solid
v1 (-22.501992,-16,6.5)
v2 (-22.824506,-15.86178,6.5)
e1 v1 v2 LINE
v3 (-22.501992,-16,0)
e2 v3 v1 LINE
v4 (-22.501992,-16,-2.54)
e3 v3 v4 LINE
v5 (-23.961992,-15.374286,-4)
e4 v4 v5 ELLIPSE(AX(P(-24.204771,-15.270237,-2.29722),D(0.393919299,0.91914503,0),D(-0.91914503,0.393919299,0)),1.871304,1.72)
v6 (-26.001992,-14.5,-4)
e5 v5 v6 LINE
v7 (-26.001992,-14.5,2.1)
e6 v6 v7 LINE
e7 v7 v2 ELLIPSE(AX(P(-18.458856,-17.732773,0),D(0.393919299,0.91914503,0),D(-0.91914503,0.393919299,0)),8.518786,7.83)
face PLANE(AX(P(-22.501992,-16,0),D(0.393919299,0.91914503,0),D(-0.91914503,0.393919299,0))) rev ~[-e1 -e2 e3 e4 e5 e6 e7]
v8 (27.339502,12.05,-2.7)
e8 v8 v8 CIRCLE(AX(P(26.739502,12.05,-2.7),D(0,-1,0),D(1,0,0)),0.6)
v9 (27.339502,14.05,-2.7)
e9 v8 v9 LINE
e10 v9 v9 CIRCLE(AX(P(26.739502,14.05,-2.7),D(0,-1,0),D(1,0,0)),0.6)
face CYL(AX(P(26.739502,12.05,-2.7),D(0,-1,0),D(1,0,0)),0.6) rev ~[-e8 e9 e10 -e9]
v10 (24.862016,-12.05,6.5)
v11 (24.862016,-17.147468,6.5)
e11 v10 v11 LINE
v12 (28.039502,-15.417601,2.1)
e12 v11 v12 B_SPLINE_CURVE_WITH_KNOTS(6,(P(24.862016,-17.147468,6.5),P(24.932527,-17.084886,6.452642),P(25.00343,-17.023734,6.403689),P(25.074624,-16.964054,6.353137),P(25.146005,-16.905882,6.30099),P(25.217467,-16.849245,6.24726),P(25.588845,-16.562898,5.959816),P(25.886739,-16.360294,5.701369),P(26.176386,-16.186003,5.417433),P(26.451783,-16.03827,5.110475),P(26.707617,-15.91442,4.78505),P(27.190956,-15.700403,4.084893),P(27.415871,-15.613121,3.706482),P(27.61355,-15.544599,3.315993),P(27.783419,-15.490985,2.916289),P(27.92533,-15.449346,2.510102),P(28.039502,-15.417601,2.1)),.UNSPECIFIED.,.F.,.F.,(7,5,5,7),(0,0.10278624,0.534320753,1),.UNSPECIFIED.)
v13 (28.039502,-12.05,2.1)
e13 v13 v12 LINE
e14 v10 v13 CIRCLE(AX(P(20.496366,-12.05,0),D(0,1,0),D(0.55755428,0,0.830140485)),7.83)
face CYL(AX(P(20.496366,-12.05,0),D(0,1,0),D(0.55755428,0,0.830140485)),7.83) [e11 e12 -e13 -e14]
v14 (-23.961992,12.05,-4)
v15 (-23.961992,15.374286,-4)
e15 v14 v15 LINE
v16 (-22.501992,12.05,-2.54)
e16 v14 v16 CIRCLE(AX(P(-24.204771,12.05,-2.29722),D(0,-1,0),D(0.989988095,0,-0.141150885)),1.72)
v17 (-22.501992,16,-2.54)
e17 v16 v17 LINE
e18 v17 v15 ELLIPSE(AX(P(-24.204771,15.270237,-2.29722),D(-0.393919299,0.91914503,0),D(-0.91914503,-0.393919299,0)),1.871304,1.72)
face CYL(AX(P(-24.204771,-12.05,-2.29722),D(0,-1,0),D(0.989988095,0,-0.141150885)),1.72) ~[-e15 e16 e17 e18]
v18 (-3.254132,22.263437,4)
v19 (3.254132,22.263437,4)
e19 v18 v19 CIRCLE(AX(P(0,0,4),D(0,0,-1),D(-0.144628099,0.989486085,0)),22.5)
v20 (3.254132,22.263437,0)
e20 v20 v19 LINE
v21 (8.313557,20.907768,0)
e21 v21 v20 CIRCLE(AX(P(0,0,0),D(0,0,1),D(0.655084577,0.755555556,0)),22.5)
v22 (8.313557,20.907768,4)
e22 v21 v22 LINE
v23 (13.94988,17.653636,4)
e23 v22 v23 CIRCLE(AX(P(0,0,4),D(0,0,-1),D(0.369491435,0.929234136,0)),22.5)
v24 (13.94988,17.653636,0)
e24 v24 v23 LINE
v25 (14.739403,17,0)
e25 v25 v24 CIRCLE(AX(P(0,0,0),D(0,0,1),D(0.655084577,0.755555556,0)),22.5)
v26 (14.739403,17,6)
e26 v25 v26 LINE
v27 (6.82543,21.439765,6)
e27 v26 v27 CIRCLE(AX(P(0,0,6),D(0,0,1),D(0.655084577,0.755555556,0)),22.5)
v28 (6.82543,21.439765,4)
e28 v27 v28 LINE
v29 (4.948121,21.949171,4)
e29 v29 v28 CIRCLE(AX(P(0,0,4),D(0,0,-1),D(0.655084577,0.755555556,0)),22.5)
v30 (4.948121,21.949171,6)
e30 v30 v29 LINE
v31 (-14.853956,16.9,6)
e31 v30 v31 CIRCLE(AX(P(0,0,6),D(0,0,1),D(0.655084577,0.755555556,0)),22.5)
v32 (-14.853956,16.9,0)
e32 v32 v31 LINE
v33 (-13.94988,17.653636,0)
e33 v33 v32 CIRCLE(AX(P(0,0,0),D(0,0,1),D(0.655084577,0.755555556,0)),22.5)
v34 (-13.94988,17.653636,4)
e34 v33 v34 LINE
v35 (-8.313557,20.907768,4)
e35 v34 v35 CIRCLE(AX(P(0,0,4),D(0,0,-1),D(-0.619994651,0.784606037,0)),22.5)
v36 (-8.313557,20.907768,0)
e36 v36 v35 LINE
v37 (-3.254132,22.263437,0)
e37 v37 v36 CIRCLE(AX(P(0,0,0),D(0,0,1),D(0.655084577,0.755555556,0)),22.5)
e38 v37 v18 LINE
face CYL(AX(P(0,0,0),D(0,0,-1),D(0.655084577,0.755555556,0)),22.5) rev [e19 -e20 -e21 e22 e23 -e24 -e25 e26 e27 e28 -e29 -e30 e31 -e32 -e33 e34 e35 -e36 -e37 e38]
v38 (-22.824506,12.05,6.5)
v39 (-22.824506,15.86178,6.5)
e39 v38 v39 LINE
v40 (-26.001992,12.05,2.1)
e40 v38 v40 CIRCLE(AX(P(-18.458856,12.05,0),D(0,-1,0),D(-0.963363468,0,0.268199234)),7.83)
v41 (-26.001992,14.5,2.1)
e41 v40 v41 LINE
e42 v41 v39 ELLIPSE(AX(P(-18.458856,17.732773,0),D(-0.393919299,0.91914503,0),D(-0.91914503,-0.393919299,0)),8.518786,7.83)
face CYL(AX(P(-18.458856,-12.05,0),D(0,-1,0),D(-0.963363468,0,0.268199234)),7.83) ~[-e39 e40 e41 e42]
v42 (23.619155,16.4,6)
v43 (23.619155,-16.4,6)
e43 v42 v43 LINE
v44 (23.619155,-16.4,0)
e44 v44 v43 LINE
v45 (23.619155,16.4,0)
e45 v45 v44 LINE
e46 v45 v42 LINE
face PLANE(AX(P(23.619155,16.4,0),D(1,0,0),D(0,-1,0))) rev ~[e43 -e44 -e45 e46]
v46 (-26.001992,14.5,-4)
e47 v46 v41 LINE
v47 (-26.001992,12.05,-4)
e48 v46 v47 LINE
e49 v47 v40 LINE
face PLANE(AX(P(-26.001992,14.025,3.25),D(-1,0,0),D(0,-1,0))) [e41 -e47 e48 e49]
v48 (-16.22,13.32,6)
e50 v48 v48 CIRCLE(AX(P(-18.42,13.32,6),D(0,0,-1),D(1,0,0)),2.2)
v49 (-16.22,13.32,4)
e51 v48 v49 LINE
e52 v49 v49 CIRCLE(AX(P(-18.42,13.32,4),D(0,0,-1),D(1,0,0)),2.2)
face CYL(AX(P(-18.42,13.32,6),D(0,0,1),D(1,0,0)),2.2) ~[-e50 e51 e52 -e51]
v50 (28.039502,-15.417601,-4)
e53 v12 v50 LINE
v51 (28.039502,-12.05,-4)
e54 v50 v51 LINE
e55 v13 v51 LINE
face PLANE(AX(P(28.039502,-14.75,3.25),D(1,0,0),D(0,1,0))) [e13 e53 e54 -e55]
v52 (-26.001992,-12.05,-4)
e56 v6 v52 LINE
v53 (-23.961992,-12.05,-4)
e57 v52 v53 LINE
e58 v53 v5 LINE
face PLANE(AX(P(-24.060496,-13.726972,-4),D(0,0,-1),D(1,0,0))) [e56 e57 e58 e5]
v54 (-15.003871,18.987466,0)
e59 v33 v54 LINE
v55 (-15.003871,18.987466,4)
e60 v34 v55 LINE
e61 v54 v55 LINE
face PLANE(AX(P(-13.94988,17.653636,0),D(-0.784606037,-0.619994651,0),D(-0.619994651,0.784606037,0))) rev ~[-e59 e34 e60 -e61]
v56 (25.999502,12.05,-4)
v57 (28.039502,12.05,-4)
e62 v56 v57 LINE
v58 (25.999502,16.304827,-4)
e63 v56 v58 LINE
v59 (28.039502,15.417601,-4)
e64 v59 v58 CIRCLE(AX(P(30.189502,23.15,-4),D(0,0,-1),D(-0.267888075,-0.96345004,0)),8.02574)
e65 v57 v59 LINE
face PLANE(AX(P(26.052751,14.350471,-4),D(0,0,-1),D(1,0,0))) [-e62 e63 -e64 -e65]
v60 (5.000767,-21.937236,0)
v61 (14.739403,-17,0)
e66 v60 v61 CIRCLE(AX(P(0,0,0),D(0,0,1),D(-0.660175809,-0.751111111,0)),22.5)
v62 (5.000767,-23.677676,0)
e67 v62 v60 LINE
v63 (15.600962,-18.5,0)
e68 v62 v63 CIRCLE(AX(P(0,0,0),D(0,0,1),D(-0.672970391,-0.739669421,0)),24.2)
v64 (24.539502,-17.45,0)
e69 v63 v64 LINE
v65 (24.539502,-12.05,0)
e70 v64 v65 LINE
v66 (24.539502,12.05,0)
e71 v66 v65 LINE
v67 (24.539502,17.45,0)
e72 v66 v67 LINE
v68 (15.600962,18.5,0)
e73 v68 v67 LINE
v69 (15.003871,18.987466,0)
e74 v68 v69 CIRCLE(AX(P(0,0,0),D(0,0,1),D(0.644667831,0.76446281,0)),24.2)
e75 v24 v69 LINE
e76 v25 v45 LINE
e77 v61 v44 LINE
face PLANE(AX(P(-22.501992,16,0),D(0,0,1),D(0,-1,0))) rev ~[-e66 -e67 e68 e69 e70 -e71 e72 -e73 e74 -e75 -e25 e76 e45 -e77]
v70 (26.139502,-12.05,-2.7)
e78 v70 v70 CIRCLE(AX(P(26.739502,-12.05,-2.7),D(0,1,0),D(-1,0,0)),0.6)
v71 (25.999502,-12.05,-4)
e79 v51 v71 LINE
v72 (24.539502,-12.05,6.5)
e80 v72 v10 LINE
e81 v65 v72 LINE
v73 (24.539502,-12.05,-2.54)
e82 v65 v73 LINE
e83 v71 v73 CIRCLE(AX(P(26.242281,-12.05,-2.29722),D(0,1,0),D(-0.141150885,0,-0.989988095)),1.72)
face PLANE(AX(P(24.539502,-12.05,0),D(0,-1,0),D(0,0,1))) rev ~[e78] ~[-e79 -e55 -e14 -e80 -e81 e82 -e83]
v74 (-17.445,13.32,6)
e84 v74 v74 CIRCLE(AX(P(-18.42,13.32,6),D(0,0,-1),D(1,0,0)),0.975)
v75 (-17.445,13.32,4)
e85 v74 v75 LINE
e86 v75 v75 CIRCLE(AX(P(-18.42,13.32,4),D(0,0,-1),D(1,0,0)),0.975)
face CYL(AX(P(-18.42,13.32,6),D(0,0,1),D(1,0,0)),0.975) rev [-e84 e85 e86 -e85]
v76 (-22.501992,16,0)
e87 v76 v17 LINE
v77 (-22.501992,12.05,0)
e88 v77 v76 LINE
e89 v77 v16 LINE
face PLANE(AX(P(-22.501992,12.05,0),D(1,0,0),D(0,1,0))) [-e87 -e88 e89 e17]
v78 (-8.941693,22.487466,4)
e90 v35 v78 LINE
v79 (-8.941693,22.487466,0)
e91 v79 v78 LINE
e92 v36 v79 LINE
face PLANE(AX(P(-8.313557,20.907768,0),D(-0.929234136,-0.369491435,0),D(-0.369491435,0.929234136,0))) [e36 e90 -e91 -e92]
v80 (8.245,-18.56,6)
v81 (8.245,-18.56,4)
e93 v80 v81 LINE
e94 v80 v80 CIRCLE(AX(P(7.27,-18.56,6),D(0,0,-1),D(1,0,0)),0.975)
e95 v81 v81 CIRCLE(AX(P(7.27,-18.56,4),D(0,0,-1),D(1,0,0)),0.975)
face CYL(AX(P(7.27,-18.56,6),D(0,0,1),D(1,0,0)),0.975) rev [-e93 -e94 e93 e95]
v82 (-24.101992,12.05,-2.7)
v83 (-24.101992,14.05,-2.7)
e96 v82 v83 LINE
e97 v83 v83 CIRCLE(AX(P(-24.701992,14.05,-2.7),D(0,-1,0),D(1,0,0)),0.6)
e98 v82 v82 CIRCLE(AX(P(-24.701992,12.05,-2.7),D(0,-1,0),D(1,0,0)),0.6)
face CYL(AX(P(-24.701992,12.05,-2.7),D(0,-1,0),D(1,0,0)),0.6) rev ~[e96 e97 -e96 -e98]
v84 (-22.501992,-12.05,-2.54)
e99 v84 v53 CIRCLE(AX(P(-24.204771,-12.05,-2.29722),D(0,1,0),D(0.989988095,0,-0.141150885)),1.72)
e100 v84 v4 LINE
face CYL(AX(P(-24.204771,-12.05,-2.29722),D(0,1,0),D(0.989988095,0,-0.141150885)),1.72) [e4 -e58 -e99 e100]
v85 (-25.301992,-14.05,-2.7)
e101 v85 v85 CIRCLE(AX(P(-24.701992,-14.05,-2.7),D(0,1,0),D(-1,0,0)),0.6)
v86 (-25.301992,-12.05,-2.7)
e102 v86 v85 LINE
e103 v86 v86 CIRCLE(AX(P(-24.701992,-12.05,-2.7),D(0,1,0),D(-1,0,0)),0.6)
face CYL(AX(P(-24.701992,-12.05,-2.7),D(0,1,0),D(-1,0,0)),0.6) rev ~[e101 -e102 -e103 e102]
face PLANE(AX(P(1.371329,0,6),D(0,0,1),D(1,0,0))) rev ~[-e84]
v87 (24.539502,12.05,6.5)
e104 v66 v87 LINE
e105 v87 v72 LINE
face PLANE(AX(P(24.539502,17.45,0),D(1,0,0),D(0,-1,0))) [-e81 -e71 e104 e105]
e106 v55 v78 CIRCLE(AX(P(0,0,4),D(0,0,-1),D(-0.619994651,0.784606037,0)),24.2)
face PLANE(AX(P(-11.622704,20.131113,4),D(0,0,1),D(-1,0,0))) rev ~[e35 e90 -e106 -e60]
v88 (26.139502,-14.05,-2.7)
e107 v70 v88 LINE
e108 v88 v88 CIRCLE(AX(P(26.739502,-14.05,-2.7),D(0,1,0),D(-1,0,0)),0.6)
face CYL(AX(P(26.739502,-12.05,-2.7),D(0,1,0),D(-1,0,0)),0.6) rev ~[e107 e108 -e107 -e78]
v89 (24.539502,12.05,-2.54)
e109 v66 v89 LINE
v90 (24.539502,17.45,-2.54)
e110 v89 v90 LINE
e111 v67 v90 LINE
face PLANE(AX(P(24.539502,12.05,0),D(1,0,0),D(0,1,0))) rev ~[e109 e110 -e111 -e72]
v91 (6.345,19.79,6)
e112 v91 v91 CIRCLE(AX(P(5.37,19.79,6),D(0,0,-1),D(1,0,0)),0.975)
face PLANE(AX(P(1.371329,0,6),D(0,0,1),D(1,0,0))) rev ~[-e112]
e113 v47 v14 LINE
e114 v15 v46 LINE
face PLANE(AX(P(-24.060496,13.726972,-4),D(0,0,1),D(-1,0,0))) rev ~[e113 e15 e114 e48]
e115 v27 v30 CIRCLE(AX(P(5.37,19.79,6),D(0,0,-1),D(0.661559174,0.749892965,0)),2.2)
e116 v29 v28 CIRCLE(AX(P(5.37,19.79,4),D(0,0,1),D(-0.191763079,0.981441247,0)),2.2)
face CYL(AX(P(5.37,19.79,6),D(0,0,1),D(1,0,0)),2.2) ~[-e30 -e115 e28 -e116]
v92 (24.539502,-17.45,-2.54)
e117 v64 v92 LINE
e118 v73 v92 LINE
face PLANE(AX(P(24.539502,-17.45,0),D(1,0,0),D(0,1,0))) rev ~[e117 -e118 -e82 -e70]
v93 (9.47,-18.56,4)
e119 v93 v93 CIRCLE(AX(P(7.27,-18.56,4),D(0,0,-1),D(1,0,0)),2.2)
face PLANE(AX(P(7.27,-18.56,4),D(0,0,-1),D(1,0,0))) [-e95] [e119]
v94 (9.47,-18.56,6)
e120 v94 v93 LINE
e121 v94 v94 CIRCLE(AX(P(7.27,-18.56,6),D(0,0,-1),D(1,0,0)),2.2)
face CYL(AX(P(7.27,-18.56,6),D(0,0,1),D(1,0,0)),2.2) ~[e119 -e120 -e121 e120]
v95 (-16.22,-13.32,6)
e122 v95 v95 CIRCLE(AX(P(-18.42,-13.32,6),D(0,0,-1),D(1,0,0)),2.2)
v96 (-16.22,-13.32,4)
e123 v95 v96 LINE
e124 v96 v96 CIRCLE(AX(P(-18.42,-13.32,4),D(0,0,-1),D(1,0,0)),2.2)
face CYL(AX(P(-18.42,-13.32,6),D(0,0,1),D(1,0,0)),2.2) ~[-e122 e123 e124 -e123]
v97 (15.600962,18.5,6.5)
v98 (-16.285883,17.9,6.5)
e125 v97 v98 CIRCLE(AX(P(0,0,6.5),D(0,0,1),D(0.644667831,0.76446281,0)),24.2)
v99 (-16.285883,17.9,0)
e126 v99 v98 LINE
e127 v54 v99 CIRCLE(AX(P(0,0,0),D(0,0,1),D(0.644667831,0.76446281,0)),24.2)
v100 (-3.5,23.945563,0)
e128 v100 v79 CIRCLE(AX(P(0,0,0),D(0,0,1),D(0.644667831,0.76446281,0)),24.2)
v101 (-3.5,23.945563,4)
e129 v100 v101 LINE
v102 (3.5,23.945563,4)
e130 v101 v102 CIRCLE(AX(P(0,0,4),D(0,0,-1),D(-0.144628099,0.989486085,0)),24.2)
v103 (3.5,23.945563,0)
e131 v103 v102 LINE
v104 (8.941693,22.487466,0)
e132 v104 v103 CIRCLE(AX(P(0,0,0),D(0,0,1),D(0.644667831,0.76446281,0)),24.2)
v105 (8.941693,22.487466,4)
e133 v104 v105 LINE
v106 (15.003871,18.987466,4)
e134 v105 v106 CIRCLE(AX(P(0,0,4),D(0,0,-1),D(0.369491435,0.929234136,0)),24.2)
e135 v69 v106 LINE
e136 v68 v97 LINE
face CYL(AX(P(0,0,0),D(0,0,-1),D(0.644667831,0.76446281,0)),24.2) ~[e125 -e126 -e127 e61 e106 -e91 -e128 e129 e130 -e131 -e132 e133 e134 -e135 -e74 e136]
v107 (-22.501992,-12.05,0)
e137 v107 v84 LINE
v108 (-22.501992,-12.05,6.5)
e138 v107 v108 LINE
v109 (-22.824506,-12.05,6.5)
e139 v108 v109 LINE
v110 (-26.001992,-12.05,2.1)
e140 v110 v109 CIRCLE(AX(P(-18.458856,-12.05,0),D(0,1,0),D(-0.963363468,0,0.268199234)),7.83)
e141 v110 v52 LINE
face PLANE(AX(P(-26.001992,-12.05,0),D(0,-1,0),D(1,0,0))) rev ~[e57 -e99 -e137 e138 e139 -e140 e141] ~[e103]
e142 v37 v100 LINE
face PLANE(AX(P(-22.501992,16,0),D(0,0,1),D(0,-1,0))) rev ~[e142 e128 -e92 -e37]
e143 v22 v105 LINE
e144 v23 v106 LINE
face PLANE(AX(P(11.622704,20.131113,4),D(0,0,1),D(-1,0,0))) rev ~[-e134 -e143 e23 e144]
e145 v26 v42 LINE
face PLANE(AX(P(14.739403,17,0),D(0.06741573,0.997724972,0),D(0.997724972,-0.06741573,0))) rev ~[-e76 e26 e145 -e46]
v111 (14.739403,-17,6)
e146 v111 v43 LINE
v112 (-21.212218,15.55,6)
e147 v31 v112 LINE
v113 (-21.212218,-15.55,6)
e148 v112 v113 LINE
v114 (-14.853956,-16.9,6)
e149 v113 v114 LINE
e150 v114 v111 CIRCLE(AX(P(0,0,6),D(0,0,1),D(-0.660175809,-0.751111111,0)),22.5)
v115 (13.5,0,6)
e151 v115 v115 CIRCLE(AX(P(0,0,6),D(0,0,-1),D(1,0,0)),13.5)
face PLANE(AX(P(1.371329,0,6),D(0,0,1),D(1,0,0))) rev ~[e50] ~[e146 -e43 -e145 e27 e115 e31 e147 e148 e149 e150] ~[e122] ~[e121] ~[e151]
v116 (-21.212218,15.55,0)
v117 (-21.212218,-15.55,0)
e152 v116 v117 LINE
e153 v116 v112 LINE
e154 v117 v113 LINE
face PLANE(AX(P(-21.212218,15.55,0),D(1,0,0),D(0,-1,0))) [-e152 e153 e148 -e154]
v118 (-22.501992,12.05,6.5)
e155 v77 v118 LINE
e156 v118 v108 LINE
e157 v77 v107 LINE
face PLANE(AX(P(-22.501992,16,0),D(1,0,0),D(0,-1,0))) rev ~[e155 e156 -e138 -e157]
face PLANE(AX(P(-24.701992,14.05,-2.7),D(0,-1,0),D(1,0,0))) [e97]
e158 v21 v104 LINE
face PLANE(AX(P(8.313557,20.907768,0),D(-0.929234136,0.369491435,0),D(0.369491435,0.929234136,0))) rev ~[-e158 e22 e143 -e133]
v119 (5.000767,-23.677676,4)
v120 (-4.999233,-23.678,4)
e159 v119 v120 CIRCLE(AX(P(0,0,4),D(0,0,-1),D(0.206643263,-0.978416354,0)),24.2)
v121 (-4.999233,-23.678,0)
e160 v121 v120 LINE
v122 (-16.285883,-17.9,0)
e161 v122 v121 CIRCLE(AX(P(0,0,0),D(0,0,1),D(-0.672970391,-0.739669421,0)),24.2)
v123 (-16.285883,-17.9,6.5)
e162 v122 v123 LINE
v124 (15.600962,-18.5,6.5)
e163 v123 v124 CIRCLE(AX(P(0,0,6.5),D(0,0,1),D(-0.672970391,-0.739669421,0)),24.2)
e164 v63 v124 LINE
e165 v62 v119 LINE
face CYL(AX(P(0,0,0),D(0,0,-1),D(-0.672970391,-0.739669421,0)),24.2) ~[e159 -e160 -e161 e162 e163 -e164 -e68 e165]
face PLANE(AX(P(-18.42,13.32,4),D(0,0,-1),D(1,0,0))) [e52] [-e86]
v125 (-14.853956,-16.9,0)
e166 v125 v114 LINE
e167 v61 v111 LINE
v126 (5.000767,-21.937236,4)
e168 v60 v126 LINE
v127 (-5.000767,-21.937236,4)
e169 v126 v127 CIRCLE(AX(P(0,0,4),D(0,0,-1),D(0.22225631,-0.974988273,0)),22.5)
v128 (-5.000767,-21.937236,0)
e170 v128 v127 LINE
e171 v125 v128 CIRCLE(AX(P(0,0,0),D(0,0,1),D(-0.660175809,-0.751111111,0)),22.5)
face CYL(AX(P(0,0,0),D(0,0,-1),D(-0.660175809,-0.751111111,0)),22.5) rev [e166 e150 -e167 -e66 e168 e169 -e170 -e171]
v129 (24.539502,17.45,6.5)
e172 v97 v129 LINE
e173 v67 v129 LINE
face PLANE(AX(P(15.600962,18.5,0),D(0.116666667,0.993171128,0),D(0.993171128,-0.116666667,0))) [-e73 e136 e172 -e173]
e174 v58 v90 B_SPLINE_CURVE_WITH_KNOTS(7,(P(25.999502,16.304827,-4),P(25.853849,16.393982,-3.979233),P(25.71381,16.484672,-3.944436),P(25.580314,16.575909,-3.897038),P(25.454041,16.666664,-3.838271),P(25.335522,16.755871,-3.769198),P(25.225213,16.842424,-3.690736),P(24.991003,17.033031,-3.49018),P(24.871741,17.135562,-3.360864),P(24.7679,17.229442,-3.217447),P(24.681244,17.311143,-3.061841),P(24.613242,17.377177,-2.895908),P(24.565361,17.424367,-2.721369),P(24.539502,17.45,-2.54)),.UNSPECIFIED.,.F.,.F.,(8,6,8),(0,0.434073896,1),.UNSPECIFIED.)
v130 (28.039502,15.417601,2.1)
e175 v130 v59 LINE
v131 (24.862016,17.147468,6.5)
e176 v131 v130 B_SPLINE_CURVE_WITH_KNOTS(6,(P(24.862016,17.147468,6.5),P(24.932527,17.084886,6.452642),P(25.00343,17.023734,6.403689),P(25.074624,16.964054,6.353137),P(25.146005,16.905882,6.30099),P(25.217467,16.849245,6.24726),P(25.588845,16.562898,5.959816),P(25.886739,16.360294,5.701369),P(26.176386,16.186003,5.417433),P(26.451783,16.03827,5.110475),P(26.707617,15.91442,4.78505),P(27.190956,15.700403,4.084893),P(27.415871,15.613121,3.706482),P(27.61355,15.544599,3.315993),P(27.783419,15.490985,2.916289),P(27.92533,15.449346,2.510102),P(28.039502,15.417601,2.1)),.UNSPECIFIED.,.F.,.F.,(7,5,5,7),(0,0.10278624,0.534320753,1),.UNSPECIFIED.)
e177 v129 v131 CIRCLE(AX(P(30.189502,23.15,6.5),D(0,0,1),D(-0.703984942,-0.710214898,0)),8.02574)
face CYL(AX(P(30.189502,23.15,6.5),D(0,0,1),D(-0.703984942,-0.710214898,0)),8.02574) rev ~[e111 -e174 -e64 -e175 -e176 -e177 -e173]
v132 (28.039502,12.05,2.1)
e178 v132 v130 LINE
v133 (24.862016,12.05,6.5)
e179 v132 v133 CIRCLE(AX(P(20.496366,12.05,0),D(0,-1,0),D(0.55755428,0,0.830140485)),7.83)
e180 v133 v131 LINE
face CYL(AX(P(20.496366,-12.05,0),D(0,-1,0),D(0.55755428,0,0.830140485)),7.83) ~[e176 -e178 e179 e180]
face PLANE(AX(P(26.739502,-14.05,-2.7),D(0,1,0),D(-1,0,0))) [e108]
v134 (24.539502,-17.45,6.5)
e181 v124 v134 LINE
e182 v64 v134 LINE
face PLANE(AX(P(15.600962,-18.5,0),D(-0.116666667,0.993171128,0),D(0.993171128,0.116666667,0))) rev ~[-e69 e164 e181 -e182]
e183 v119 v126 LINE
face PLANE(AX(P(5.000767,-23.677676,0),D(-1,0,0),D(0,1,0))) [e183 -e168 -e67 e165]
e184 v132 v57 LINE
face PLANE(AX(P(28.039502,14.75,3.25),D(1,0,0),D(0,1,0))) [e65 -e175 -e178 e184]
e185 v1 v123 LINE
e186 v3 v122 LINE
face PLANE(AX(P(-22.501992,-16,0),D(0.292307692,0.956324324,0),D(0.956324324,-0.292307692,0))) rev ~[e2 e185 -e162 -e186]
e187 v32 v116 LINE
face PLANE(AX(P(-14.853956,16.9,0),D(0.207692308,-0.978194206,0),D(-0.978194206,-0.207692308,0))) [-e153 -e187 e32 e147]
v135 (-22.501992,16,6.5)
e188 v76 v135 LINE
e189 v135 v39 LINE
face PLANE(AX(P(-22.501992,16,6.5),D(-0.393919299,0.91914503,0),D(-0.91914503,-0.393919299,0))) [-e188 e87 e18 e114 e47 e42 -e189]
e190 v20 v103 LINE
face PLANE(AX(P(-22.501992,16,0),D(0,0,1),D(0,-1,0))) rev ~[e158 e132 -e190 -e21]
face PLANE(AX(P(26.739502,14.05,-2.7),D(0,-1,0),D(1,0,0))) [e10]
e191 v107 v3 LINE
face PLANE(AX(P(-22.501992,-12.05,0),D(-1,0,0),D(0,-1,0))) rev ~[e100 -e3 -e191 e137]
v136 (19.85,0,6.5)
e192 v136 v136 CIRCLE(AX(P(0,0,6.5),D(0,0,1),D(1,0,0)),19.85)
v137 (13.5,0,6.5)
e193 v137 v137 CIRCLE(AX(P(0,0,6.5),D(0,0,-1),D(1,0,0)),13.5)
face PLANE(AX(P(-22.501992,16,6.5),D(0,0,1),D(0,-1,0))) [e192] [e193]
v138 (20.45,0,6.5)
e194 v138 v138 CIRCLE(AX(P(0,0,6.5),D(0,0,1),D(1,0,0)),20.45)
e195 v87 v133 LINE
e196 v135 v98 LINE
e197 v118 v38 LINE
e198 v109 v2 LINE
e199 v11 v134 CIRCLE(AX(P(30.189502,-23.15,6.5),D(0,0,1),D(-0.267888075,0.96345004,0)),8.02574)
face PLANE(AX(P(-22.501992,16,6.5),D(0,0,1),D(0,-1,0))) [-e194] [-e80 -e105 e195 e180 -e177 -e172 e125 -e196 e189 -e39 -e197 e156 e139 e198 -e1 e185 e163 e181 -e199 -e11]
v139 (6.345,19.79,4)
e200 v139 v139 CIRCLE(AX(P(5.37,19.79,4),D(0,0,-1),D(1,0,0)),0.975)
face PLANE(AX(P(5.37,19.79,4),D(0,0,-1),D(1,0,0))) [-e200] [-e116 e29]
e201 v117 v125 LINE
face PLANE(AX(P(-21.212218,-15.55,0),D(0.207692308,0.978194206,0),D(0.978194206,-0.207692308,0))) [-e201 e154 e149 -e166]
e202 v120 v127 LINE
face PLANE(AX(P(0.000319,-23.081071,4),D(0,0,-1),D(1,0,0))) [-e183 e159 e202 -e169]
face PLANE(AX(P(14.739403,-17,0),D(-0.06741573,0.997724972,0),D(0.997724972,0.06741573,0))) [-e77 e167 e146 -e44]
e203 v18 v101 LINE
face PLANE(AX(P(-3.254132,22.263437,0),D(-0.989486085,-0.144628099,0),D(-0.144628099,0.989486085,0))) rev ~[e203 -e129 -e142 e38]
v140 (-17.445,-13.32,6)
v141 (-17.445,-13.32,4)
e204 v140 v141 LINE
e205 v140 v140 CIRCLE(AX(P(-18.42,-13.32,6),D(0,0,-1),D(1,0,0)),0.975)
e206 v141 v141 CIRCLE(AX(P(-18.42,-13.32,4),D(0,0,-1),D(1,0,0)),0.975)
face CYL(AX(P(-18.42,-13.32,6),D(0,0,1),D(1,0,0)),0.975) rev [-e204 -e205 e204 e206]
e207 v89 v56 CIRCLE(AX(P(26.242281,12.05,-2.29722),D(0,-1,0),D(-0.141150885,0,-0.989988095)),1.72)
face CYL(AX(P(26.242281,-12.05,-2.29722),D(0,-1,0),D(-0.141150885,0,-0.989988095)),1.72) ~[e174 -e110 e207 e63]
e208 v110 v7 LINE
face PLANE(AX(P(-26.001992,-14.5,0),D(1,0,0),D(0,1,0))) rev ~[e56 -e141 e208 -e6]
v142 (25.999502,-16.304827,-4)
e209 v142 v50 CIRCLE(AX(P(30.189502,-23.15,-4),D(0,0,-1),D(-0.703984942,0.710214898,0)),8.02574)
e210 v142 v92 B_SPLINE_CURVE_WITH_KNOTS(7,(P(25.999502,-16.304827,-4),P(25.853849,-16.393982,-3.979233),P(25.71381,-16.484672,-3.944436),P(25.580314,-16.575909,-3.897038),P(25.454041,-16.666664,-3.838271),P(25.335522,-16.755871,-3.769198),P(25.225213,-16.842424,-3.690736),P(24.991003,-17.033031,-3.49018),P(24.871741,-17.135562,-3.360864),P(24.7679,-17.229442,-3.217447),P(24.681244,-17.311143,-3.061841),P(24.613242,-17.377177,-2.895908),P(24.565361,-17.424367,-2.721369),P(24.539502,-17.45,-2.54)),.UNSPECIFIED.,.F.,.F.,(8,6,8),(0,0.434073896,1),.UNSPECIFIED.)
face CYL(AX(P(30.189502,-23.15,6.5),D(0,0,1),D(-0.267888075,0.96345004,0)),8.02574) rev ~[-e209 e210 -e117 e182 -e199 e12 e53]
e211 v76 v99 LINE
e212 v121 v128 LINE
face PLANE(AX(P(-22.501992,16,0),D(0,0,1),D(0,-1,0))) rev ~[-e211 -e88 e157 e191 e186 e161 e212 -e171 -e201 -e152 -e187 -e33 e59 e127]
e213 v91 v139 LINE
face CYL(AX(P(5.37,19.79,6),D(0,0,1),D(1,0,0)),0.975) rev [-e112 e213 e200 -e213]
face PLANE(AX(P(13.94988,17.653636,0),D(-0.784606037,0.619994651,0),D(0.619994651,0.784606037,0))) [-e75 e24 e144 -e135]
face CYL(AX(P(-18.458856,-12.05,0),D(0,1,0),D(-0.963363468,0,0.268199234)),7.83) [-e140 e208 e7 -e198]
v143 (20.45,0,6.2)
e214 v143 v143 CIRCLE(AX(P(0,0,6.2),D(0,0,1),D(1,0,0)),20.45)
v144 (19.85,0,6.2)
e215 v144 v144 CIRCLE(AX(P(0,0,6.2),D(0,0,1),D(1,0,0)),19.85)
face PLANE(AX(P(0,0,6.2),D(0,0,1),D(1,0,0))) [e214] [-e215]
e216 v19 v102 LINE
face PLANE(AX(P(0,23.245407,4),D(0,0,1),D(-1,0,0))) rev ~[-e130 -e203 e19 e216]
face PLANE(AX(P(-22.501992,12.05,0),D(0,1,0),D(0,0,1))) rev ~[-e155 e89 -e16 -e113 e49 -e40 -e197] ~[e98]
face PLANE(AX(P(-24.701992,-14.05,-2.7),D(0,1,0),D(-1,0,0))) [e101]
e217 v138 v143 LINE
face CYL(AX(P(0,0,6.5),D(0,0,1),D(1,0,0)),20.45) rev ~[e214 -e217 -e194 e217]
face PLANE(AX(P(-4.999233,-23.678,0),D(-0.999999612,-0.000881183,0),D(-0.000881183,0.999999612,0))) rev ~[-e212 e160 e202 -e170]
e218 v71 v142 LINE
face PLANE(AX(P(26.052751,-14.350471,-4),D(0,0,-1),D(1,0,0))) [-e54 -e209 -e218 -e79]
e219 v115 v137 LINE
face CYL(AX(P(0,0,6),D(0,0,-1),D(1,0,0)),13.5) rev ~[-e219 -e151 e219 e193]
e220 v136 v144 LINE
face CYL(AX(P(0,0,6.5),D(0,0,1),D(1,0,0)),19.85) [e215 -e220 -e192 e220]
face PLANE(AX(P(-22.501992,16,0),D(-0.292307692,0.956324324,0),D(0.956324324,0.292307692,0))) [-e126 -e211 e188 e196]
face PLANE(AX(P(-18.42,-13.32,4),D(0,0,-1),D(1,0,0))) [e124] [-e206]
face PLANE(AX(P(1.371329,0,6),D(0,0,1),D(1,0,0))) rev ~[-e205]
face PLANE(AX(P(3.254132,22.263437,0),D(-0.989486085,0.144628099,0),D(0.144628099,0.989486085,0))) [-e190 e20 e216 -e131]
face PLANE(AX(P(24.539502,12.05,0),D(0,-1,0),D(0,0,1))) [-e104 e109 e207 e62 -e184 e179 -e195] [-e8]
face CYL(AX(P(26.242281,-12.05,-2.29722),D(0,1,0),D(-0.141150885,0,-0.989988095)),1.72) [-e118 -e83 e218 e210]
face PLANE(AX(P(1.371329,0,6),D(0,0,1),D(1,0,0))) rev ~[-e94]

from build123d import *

# Parameters (mm, degrees)
PAD_DEPTH            = 6.5
POCKET_DEPTH         = 6
SKETCH002_R          = 13.5
POCKET001_DEPTH      = 1
SKETCH003_W          = 5.4
SKETCH003_H          = 6.5
PAD001_DEPTH         = 3.5
POCKET002_DEPTH      = 10
SKETCH010_W          = 3.95
SKETCH010_H          = 6.5
PAD002_DEPTH         = 3.5
POCKET005_DEPTH      = 10
SKETCH014_R          = 20.45
SKETCH014_R_2        = 19.85
POCKET008_DEPTH      = 0.3
SKETCH015_R          = 2.2
SKETCH015_R_2        = 0.975
PAD003_DEPTH         = 2
POCKET009_DEPTH      = 4
POCKET010_DEPTH      = 4
PAD004_DEPTH         = 4
POCKET013_DEPTH      = 12.151
POCKET013_DEPTH_BACK = 36.251
SKETCH022_R          = 0.6
POCKET014_DEPTH      = 2
SKETCH023_R          = 0.6
POCKET015_DEPTH      = 2


with BuildPart() as part:
    # Sketch → Pad (new body)
    with BuildSketch(Plane.XY):
        with BuildLine():
            Line((-22.5019915649, 16), (-22.5019915649, -16))
            Line((-22.5019915649, -16), (-16.2858834578, -17.9))
            ThreePointArc((-16.2858834578, -17.9), (-0.4552796053, -24.1957169863), (15.6009615088, -18.5))
            Line((15.6009615088, -18.5), (24.5395016581, -17.45))
            Line((24.5395016581, 17.45), (24.5395016581, -17.45))
            Line((15.6009615088, 18.5), (24.5395016581, 17.45))
            ThreePointArc((15.6009615088, 18.5), (-0.4552796053, 24.1957169863), (-16.2858834578, 17.9))
            Line((-22.5019915649, 16), (-16.2858834578, 17.9))
        make_face()
    extrude(amount=PAD_DEPTH)

    # Sketch001 → Pocket (cut)
    with BuildSketch(Plane.XY):
        with BuildLine():
            Line((-14.8539557021, 16.9), (-21.2122180433, 15.55))
            Line((-21.2122180433, 15.55), (-21.2122180433, -15.55))
            Line((-21.2122180433, -15.55), (-14.8539557021, -16.9))
            ThreePointArc((-14.8539557021, -16.9), (-0.0760301383, -22.4998715423), (14.739402973, -17))
            Line((14.739402973, -17), (23.6191552218, -16.4))
            Line((23.6191552218, 16.4), (23.6191552218, -16.4))
            Line((14.739402973, 17), (23.6191552218, 16.4))
            ThreePointArc((14.739402973, 17), (-0.0760301383, 22.4998715423), (-14.8539557021, 16.9))
        make_face()
    extrude(amount=POCKET_DEPTH, mode=Mode.SUBTRACT)

    # Sketch002 (on Face19 of Pocket) → Pocket001 (cut)
    with BuildSketch(Plane(origin=(0, 0, 6), x_dir=(1, 0, 0), z_dir=(0, 0, -1))):
        Circle(SKETCH002_R)
    extrude(amount=-POCKET001_DEPTH, mode=Mode.SUBTRACT)

    # Sketch003 (on Face7 of Pad) → Pad001 (join)
    with BuildSketch(Plane.YZ.offset(24.5395016581)):
        with Locations((-14.75, 3.25)):
            Rectangle(SKETCH003_W, SKETCH003_H)
        with Locations((14.75, 3.25)):
            Rectangle(SKETCH003_W, SKETCH003_H)
    extrude(amount=PAD001_DEPTH)

    # Sketch006 (on Face22 of Pad001) → Pocket002 (cut)
    with BuildSketch(Plane.XY.offset(6.5)):
        with BuildLine():
            ThreePointArc((24.5395016581, 17.45), (26.1592830786, 16.2095505764), (28.0395016581, 15.4176006311))
            Line((28.0395016581, 17.45), (28.0395016581, 15.4176006311))
            Line((28.0395016581, 17.45), (24.5395016581, 17.45))
        make_face()
        with BuildLine():
            ThreePointArc((28.0395016581, -15.4176006311), (26.1592830786, -16.2095505765), (24.5395016581, -17.4500000001))
            Line((28.0395016581, -17.45), (24.5395016581, -17.45))
            Line((28.0395016581, -15.4176006311), (28.0395016581, -17.45))
        make_face()
    extrude(amount=-POCKET002_DEPTH, mode=Mode.SUBTRACT)

    # Sketch010 (on Face3 of Pad) → Pad002 (join)
    with BuildSketch(Plane(origin=(-22.5019915649, 0, 0), x_dir=(0, -1, 0), z_dir=(-1, 0, 0))):
        with Locations((-14.025, 3.25)):
            Rectangle(SKETCH010_W, SKETCH010_H)
        with Locations((14.025, 3.25)):
            Rectangle(SKETCH010_W, SKETCH010_H)
    extrude(amount=PAD002_DEPTH)

    # Sketch011 (on Face28 of Pad002) → Pocket005 (cut)
    with BuildSketch(Plane.XY.offset(6.5)):
        Polygon((-26.0019915649, 16), (-22.5019915649, 16), (-26.0019915649, 14.5), align=None)
        Polygon((-22.5019915649, -16), (-26.0019915649, -14.5), (-26.0019915649, -16), align=None)
    extrude(amount=-POCKET005_DEPTH, mode=Mode.SUBTRACT)

    # Sketch014 (on Face10 of Pad) → Pocket008 (cut)
    with BuildSketch(Plane.XY.offset(6.5)):
        Circle(SKETCH014_R)
        Circle(SKETCH014_R_2, mode=Mode.SUBTRACT)
    extrude(amount=-POCKET008_DEPTH, mode=Mode.SUBTRACT)

    # Sketch015 (on Face19 of Pocket) → Pad003 (join)
    with BuildSketch(Plane(origin=(0, 0, 6), x_dir=(1, 0, 0), z_dir=(0, 0, -1))):
        with Locations((-18.42, 13.32)):
            Circle(SKETCH015_R)
        with Locations((-18.42, 13.32)):
            Circle(SKETCH015_R_2, mode=Mode.SUBTRACT)
        with Locations((7.27, 18.56)):
            Circle(SKETCH015_R)
        with Locations((7.27, 18.56)):
            Circle(SKETCH015_R_2, mode=Mode.SUBTRACT)
        with Locations((5.37, -19.79)):
            Circle(SKETCH015_R)
        with Locations((5.37, -19.79)):
            Circle(SKETCH015_R_2, mode=Mode.SUBTRACT)
        with Locations((-18.42, -13.32)):
            Circle(SKETCH015_R)
        with Locations((-18.42, -13.32)):
            Circle(SKETCH015_R_2, mode=Mode.SUBTRACT)
    extrude(amount=PAD003_DEPTH)

    # Sketch016 (on Face4 of Pocket) → Pocket009 (cut)
    with BuildSketch(Plane(origin=(0, 0, 0), x_dir=(1, 0, 0), z_dir=(0, 0, -1))):
        with BuildLine():
            Line((-4.9992330338, 23.6779996848), (-5.0007669662, 21.9372361465))
            ThreePointArc((5.0007669662, 21.9372361465), (0, 22.5), (-5.0007669662, 21.9372361465))
            Line((5.0007669662, 23.6776757675), (5.0007669662, 21.9372361465))
            ThreePointArc((5.0007669662, 23.6776757675), (0.00078388, 24.1999999873), (-4.9992330338, 23.6779996848))
        make_face()
    extrude(amount=-POCKET009_DEPTH, mode=Mode.SUBTRACT)

    # Sketch017 (on Face4 of Pocket) → Pocket010 (cut)
    with BuildSketch(Plane(origin=(0, 0, 0), x_dir=(1, 0, 0), z_dir=(0, 0, -1))):
        with BuildLine():
            ThreePointArc((-3.2541322314, -22.2634369184), (0, -22.5), (3.2541322314, -22.2634369184))
            Line((3.2541322314, -22.2634369184), (3.5, -23.9455632634))
            ThreePointArc((-3.5, -23.9455632634), (0, -24.2), (3.5, -23.9455632634))
            Line((-3.2541322314, -22.2634369184), (-3.5, -23.9455632634))
        make_face()
        with BuildLine():
            ThreePointArc((-13.9498796389, -17.6536358312), (-11.25, -19.4855715851), (-8.3135572795, -20.9077680626))
            Line((-8.3135572795, -20.9077680626), (-8.9416927184, -22.487466094))
            ThreePointArc((-15.0038705449, -18.987466094), (-12.1, -20.9578147716), (-8.9416927184, -22.487466094))
            Line((-13.9498796389, -17.6536358312), (-15.0038705449, -18.987466094))
        make_face()
        with BuildLine():
            ThreePointArc((8.3135572795, -20.9077680626), (11.25, -19.4855715851), (13.9498796389, -17.6536358312))
            Line((13.9498796389, -17.6536358312), (15.0038705449, -18.987466094))
            ThreePointArc((8.9416927184, -22.487466094), (12.1, -20.9578147716), (15.0038705449, -18.987466094))
            Line((8.3135572795, -20.9077680626), (8.9416927184, -22.487466094))
        make_face()
    extrude(amount=-POCKET010_DEPTH, mode=Mode.SUBTRACT)

    # Sketch018 (on Face8 of Pocket005) → Pad004 (join)
    with BuildSketch(Plane(origin=(0, 0, 0), x_dir=(1, 0, 0), z_dir=(0, 0, -1))):
        Polygon((-26.0019915649, 14.5), (-26.0019915649, 12.05), (-22.5019915649, 12.05), (-22.5019915649, 16), align=None)
        Polygon((-26.0019915649, -12.05), (-22.5019915649, -12.05), (-22.5019915649, -16), (-26.0019915649, -14.5), align=None)
        with BuildLine():
            Line((24.5395016581, 17.4500000001), (24.5395016581, 12.05))
            Line((28.0395016581, 12.05), (24.5395016581, 12.05))
            Line((28.0395016581, 15.4176006311), (28.0395016581, 12.05))
            ThreePointArc((24.5395016581, 17.4500000001), (26.1592830786, 16.2095505765), (28.0395016581, 15.4176006311))
        make_face()
        with BuildLine():
            Line((24.5395016581, -12.05), (24.5395016581, -17.45))
            ThreePointArc((28.0395016581, -15.4176006311), (26.1592830786, -16.2095505764), (24.5395016581, -17.45))
            Line((28.0395016581, -12.05), (28.0395016581, -15.4176006311))
            Line((24.5395016581, -12.05), (28.0395016581, -12.05))
        make_face()
    extrude(amount=PAD004_DEPTH)

    # Sketch021 (on Face50 of Pad004) → Pocket013 (cut, two sides)
    with BuildSketch(Plane(origin=(0, -12.05, 0), x_dir=(-1, 0, 0), z_dir=(0, 1, 0))) as pocket013_sk:
        with BuildLine():
            Line((-24.8620157143, 6.5), (-28.0395016581, 6.5))
            Line((-28.0395016581, 6.5), (-28.0395016581, 2.1))
            ThreePointArc((-24.8620157143, 6.5), (-26.8441838951, 4.5841143344), (-28.0395016581, 2.1))
        make_face()
        with BuildLine():
            ThreePointArc((-25.9995016581, -4), (-25.0260575173, -3.5134441408), (-24.5395016581, -2.54))
            Line((-24.5395016581, -4), (-24.5395016581, -2.54))
            Line((-24.5395016581, -4), (-25.9995016581, -4))
        make_face()
        with BuildLine():
            Line((22.5019915649, -4), (22.5019915649, -2.54))
            ThreePointArc((22.5019915649, -2.54), (22.9885474241, -3.5134441408), (23.9619915649, -4))
            Line((22.5019915649, -4), (23.9619915649, -4))
        make_face()
        with BuildLine():
            Line((26.0019915649, 6.5), (26.0019915649, 2.1))
            ThreePointArc((26.0019915649, 2.1), (24.806673802, 4.5841143344), (22.8245056212, 6.5))
            Line((26.0019915649, 6.5), (22.8245056212, 6.5))
        make_face()
    extrude(amount=-POCKET013_DEPTH, mode=Mode.SUBTRACT)
    extrude(pocket013_sk.sketch, amount=POCKET013_DEPTH_BACK, mode=Mode.SUBTRACT)

    # Sketch022 (on Face66 of Pocket013) → Pocket014 (cut)
    with BuildSketch(Plane.XZ.offset(-12.05)):
        with Locations((-24.7019915649, -2.7)):
            Circle(SKETCH022_R)
        with Locations((26.7395016581, -2.7)):
            Circle(SKETCH022_R)
    extrude(amount=-POCKET014_DEPTH, mode=Mode.SUBTRACT)

    # Sketch023 (on Face49 of Pocket014) → Pocket015 (cut)
    with BuildSketch(Plane(origin=(0, -12.05, 0), x_dir=(-1, 0, 0), z_dir=(0, 1, 0))):
        with Locations((-26.7395016581, -2.7)):
            Circle(SKETCH023_R)
        with Locations((24.7019915649, -2.7)):
            Circle(SKETCH023_R)
    extrude(amount=-POCKET015_DEPTH, mode=Mode.SUBTRACT)


solid = part.part
